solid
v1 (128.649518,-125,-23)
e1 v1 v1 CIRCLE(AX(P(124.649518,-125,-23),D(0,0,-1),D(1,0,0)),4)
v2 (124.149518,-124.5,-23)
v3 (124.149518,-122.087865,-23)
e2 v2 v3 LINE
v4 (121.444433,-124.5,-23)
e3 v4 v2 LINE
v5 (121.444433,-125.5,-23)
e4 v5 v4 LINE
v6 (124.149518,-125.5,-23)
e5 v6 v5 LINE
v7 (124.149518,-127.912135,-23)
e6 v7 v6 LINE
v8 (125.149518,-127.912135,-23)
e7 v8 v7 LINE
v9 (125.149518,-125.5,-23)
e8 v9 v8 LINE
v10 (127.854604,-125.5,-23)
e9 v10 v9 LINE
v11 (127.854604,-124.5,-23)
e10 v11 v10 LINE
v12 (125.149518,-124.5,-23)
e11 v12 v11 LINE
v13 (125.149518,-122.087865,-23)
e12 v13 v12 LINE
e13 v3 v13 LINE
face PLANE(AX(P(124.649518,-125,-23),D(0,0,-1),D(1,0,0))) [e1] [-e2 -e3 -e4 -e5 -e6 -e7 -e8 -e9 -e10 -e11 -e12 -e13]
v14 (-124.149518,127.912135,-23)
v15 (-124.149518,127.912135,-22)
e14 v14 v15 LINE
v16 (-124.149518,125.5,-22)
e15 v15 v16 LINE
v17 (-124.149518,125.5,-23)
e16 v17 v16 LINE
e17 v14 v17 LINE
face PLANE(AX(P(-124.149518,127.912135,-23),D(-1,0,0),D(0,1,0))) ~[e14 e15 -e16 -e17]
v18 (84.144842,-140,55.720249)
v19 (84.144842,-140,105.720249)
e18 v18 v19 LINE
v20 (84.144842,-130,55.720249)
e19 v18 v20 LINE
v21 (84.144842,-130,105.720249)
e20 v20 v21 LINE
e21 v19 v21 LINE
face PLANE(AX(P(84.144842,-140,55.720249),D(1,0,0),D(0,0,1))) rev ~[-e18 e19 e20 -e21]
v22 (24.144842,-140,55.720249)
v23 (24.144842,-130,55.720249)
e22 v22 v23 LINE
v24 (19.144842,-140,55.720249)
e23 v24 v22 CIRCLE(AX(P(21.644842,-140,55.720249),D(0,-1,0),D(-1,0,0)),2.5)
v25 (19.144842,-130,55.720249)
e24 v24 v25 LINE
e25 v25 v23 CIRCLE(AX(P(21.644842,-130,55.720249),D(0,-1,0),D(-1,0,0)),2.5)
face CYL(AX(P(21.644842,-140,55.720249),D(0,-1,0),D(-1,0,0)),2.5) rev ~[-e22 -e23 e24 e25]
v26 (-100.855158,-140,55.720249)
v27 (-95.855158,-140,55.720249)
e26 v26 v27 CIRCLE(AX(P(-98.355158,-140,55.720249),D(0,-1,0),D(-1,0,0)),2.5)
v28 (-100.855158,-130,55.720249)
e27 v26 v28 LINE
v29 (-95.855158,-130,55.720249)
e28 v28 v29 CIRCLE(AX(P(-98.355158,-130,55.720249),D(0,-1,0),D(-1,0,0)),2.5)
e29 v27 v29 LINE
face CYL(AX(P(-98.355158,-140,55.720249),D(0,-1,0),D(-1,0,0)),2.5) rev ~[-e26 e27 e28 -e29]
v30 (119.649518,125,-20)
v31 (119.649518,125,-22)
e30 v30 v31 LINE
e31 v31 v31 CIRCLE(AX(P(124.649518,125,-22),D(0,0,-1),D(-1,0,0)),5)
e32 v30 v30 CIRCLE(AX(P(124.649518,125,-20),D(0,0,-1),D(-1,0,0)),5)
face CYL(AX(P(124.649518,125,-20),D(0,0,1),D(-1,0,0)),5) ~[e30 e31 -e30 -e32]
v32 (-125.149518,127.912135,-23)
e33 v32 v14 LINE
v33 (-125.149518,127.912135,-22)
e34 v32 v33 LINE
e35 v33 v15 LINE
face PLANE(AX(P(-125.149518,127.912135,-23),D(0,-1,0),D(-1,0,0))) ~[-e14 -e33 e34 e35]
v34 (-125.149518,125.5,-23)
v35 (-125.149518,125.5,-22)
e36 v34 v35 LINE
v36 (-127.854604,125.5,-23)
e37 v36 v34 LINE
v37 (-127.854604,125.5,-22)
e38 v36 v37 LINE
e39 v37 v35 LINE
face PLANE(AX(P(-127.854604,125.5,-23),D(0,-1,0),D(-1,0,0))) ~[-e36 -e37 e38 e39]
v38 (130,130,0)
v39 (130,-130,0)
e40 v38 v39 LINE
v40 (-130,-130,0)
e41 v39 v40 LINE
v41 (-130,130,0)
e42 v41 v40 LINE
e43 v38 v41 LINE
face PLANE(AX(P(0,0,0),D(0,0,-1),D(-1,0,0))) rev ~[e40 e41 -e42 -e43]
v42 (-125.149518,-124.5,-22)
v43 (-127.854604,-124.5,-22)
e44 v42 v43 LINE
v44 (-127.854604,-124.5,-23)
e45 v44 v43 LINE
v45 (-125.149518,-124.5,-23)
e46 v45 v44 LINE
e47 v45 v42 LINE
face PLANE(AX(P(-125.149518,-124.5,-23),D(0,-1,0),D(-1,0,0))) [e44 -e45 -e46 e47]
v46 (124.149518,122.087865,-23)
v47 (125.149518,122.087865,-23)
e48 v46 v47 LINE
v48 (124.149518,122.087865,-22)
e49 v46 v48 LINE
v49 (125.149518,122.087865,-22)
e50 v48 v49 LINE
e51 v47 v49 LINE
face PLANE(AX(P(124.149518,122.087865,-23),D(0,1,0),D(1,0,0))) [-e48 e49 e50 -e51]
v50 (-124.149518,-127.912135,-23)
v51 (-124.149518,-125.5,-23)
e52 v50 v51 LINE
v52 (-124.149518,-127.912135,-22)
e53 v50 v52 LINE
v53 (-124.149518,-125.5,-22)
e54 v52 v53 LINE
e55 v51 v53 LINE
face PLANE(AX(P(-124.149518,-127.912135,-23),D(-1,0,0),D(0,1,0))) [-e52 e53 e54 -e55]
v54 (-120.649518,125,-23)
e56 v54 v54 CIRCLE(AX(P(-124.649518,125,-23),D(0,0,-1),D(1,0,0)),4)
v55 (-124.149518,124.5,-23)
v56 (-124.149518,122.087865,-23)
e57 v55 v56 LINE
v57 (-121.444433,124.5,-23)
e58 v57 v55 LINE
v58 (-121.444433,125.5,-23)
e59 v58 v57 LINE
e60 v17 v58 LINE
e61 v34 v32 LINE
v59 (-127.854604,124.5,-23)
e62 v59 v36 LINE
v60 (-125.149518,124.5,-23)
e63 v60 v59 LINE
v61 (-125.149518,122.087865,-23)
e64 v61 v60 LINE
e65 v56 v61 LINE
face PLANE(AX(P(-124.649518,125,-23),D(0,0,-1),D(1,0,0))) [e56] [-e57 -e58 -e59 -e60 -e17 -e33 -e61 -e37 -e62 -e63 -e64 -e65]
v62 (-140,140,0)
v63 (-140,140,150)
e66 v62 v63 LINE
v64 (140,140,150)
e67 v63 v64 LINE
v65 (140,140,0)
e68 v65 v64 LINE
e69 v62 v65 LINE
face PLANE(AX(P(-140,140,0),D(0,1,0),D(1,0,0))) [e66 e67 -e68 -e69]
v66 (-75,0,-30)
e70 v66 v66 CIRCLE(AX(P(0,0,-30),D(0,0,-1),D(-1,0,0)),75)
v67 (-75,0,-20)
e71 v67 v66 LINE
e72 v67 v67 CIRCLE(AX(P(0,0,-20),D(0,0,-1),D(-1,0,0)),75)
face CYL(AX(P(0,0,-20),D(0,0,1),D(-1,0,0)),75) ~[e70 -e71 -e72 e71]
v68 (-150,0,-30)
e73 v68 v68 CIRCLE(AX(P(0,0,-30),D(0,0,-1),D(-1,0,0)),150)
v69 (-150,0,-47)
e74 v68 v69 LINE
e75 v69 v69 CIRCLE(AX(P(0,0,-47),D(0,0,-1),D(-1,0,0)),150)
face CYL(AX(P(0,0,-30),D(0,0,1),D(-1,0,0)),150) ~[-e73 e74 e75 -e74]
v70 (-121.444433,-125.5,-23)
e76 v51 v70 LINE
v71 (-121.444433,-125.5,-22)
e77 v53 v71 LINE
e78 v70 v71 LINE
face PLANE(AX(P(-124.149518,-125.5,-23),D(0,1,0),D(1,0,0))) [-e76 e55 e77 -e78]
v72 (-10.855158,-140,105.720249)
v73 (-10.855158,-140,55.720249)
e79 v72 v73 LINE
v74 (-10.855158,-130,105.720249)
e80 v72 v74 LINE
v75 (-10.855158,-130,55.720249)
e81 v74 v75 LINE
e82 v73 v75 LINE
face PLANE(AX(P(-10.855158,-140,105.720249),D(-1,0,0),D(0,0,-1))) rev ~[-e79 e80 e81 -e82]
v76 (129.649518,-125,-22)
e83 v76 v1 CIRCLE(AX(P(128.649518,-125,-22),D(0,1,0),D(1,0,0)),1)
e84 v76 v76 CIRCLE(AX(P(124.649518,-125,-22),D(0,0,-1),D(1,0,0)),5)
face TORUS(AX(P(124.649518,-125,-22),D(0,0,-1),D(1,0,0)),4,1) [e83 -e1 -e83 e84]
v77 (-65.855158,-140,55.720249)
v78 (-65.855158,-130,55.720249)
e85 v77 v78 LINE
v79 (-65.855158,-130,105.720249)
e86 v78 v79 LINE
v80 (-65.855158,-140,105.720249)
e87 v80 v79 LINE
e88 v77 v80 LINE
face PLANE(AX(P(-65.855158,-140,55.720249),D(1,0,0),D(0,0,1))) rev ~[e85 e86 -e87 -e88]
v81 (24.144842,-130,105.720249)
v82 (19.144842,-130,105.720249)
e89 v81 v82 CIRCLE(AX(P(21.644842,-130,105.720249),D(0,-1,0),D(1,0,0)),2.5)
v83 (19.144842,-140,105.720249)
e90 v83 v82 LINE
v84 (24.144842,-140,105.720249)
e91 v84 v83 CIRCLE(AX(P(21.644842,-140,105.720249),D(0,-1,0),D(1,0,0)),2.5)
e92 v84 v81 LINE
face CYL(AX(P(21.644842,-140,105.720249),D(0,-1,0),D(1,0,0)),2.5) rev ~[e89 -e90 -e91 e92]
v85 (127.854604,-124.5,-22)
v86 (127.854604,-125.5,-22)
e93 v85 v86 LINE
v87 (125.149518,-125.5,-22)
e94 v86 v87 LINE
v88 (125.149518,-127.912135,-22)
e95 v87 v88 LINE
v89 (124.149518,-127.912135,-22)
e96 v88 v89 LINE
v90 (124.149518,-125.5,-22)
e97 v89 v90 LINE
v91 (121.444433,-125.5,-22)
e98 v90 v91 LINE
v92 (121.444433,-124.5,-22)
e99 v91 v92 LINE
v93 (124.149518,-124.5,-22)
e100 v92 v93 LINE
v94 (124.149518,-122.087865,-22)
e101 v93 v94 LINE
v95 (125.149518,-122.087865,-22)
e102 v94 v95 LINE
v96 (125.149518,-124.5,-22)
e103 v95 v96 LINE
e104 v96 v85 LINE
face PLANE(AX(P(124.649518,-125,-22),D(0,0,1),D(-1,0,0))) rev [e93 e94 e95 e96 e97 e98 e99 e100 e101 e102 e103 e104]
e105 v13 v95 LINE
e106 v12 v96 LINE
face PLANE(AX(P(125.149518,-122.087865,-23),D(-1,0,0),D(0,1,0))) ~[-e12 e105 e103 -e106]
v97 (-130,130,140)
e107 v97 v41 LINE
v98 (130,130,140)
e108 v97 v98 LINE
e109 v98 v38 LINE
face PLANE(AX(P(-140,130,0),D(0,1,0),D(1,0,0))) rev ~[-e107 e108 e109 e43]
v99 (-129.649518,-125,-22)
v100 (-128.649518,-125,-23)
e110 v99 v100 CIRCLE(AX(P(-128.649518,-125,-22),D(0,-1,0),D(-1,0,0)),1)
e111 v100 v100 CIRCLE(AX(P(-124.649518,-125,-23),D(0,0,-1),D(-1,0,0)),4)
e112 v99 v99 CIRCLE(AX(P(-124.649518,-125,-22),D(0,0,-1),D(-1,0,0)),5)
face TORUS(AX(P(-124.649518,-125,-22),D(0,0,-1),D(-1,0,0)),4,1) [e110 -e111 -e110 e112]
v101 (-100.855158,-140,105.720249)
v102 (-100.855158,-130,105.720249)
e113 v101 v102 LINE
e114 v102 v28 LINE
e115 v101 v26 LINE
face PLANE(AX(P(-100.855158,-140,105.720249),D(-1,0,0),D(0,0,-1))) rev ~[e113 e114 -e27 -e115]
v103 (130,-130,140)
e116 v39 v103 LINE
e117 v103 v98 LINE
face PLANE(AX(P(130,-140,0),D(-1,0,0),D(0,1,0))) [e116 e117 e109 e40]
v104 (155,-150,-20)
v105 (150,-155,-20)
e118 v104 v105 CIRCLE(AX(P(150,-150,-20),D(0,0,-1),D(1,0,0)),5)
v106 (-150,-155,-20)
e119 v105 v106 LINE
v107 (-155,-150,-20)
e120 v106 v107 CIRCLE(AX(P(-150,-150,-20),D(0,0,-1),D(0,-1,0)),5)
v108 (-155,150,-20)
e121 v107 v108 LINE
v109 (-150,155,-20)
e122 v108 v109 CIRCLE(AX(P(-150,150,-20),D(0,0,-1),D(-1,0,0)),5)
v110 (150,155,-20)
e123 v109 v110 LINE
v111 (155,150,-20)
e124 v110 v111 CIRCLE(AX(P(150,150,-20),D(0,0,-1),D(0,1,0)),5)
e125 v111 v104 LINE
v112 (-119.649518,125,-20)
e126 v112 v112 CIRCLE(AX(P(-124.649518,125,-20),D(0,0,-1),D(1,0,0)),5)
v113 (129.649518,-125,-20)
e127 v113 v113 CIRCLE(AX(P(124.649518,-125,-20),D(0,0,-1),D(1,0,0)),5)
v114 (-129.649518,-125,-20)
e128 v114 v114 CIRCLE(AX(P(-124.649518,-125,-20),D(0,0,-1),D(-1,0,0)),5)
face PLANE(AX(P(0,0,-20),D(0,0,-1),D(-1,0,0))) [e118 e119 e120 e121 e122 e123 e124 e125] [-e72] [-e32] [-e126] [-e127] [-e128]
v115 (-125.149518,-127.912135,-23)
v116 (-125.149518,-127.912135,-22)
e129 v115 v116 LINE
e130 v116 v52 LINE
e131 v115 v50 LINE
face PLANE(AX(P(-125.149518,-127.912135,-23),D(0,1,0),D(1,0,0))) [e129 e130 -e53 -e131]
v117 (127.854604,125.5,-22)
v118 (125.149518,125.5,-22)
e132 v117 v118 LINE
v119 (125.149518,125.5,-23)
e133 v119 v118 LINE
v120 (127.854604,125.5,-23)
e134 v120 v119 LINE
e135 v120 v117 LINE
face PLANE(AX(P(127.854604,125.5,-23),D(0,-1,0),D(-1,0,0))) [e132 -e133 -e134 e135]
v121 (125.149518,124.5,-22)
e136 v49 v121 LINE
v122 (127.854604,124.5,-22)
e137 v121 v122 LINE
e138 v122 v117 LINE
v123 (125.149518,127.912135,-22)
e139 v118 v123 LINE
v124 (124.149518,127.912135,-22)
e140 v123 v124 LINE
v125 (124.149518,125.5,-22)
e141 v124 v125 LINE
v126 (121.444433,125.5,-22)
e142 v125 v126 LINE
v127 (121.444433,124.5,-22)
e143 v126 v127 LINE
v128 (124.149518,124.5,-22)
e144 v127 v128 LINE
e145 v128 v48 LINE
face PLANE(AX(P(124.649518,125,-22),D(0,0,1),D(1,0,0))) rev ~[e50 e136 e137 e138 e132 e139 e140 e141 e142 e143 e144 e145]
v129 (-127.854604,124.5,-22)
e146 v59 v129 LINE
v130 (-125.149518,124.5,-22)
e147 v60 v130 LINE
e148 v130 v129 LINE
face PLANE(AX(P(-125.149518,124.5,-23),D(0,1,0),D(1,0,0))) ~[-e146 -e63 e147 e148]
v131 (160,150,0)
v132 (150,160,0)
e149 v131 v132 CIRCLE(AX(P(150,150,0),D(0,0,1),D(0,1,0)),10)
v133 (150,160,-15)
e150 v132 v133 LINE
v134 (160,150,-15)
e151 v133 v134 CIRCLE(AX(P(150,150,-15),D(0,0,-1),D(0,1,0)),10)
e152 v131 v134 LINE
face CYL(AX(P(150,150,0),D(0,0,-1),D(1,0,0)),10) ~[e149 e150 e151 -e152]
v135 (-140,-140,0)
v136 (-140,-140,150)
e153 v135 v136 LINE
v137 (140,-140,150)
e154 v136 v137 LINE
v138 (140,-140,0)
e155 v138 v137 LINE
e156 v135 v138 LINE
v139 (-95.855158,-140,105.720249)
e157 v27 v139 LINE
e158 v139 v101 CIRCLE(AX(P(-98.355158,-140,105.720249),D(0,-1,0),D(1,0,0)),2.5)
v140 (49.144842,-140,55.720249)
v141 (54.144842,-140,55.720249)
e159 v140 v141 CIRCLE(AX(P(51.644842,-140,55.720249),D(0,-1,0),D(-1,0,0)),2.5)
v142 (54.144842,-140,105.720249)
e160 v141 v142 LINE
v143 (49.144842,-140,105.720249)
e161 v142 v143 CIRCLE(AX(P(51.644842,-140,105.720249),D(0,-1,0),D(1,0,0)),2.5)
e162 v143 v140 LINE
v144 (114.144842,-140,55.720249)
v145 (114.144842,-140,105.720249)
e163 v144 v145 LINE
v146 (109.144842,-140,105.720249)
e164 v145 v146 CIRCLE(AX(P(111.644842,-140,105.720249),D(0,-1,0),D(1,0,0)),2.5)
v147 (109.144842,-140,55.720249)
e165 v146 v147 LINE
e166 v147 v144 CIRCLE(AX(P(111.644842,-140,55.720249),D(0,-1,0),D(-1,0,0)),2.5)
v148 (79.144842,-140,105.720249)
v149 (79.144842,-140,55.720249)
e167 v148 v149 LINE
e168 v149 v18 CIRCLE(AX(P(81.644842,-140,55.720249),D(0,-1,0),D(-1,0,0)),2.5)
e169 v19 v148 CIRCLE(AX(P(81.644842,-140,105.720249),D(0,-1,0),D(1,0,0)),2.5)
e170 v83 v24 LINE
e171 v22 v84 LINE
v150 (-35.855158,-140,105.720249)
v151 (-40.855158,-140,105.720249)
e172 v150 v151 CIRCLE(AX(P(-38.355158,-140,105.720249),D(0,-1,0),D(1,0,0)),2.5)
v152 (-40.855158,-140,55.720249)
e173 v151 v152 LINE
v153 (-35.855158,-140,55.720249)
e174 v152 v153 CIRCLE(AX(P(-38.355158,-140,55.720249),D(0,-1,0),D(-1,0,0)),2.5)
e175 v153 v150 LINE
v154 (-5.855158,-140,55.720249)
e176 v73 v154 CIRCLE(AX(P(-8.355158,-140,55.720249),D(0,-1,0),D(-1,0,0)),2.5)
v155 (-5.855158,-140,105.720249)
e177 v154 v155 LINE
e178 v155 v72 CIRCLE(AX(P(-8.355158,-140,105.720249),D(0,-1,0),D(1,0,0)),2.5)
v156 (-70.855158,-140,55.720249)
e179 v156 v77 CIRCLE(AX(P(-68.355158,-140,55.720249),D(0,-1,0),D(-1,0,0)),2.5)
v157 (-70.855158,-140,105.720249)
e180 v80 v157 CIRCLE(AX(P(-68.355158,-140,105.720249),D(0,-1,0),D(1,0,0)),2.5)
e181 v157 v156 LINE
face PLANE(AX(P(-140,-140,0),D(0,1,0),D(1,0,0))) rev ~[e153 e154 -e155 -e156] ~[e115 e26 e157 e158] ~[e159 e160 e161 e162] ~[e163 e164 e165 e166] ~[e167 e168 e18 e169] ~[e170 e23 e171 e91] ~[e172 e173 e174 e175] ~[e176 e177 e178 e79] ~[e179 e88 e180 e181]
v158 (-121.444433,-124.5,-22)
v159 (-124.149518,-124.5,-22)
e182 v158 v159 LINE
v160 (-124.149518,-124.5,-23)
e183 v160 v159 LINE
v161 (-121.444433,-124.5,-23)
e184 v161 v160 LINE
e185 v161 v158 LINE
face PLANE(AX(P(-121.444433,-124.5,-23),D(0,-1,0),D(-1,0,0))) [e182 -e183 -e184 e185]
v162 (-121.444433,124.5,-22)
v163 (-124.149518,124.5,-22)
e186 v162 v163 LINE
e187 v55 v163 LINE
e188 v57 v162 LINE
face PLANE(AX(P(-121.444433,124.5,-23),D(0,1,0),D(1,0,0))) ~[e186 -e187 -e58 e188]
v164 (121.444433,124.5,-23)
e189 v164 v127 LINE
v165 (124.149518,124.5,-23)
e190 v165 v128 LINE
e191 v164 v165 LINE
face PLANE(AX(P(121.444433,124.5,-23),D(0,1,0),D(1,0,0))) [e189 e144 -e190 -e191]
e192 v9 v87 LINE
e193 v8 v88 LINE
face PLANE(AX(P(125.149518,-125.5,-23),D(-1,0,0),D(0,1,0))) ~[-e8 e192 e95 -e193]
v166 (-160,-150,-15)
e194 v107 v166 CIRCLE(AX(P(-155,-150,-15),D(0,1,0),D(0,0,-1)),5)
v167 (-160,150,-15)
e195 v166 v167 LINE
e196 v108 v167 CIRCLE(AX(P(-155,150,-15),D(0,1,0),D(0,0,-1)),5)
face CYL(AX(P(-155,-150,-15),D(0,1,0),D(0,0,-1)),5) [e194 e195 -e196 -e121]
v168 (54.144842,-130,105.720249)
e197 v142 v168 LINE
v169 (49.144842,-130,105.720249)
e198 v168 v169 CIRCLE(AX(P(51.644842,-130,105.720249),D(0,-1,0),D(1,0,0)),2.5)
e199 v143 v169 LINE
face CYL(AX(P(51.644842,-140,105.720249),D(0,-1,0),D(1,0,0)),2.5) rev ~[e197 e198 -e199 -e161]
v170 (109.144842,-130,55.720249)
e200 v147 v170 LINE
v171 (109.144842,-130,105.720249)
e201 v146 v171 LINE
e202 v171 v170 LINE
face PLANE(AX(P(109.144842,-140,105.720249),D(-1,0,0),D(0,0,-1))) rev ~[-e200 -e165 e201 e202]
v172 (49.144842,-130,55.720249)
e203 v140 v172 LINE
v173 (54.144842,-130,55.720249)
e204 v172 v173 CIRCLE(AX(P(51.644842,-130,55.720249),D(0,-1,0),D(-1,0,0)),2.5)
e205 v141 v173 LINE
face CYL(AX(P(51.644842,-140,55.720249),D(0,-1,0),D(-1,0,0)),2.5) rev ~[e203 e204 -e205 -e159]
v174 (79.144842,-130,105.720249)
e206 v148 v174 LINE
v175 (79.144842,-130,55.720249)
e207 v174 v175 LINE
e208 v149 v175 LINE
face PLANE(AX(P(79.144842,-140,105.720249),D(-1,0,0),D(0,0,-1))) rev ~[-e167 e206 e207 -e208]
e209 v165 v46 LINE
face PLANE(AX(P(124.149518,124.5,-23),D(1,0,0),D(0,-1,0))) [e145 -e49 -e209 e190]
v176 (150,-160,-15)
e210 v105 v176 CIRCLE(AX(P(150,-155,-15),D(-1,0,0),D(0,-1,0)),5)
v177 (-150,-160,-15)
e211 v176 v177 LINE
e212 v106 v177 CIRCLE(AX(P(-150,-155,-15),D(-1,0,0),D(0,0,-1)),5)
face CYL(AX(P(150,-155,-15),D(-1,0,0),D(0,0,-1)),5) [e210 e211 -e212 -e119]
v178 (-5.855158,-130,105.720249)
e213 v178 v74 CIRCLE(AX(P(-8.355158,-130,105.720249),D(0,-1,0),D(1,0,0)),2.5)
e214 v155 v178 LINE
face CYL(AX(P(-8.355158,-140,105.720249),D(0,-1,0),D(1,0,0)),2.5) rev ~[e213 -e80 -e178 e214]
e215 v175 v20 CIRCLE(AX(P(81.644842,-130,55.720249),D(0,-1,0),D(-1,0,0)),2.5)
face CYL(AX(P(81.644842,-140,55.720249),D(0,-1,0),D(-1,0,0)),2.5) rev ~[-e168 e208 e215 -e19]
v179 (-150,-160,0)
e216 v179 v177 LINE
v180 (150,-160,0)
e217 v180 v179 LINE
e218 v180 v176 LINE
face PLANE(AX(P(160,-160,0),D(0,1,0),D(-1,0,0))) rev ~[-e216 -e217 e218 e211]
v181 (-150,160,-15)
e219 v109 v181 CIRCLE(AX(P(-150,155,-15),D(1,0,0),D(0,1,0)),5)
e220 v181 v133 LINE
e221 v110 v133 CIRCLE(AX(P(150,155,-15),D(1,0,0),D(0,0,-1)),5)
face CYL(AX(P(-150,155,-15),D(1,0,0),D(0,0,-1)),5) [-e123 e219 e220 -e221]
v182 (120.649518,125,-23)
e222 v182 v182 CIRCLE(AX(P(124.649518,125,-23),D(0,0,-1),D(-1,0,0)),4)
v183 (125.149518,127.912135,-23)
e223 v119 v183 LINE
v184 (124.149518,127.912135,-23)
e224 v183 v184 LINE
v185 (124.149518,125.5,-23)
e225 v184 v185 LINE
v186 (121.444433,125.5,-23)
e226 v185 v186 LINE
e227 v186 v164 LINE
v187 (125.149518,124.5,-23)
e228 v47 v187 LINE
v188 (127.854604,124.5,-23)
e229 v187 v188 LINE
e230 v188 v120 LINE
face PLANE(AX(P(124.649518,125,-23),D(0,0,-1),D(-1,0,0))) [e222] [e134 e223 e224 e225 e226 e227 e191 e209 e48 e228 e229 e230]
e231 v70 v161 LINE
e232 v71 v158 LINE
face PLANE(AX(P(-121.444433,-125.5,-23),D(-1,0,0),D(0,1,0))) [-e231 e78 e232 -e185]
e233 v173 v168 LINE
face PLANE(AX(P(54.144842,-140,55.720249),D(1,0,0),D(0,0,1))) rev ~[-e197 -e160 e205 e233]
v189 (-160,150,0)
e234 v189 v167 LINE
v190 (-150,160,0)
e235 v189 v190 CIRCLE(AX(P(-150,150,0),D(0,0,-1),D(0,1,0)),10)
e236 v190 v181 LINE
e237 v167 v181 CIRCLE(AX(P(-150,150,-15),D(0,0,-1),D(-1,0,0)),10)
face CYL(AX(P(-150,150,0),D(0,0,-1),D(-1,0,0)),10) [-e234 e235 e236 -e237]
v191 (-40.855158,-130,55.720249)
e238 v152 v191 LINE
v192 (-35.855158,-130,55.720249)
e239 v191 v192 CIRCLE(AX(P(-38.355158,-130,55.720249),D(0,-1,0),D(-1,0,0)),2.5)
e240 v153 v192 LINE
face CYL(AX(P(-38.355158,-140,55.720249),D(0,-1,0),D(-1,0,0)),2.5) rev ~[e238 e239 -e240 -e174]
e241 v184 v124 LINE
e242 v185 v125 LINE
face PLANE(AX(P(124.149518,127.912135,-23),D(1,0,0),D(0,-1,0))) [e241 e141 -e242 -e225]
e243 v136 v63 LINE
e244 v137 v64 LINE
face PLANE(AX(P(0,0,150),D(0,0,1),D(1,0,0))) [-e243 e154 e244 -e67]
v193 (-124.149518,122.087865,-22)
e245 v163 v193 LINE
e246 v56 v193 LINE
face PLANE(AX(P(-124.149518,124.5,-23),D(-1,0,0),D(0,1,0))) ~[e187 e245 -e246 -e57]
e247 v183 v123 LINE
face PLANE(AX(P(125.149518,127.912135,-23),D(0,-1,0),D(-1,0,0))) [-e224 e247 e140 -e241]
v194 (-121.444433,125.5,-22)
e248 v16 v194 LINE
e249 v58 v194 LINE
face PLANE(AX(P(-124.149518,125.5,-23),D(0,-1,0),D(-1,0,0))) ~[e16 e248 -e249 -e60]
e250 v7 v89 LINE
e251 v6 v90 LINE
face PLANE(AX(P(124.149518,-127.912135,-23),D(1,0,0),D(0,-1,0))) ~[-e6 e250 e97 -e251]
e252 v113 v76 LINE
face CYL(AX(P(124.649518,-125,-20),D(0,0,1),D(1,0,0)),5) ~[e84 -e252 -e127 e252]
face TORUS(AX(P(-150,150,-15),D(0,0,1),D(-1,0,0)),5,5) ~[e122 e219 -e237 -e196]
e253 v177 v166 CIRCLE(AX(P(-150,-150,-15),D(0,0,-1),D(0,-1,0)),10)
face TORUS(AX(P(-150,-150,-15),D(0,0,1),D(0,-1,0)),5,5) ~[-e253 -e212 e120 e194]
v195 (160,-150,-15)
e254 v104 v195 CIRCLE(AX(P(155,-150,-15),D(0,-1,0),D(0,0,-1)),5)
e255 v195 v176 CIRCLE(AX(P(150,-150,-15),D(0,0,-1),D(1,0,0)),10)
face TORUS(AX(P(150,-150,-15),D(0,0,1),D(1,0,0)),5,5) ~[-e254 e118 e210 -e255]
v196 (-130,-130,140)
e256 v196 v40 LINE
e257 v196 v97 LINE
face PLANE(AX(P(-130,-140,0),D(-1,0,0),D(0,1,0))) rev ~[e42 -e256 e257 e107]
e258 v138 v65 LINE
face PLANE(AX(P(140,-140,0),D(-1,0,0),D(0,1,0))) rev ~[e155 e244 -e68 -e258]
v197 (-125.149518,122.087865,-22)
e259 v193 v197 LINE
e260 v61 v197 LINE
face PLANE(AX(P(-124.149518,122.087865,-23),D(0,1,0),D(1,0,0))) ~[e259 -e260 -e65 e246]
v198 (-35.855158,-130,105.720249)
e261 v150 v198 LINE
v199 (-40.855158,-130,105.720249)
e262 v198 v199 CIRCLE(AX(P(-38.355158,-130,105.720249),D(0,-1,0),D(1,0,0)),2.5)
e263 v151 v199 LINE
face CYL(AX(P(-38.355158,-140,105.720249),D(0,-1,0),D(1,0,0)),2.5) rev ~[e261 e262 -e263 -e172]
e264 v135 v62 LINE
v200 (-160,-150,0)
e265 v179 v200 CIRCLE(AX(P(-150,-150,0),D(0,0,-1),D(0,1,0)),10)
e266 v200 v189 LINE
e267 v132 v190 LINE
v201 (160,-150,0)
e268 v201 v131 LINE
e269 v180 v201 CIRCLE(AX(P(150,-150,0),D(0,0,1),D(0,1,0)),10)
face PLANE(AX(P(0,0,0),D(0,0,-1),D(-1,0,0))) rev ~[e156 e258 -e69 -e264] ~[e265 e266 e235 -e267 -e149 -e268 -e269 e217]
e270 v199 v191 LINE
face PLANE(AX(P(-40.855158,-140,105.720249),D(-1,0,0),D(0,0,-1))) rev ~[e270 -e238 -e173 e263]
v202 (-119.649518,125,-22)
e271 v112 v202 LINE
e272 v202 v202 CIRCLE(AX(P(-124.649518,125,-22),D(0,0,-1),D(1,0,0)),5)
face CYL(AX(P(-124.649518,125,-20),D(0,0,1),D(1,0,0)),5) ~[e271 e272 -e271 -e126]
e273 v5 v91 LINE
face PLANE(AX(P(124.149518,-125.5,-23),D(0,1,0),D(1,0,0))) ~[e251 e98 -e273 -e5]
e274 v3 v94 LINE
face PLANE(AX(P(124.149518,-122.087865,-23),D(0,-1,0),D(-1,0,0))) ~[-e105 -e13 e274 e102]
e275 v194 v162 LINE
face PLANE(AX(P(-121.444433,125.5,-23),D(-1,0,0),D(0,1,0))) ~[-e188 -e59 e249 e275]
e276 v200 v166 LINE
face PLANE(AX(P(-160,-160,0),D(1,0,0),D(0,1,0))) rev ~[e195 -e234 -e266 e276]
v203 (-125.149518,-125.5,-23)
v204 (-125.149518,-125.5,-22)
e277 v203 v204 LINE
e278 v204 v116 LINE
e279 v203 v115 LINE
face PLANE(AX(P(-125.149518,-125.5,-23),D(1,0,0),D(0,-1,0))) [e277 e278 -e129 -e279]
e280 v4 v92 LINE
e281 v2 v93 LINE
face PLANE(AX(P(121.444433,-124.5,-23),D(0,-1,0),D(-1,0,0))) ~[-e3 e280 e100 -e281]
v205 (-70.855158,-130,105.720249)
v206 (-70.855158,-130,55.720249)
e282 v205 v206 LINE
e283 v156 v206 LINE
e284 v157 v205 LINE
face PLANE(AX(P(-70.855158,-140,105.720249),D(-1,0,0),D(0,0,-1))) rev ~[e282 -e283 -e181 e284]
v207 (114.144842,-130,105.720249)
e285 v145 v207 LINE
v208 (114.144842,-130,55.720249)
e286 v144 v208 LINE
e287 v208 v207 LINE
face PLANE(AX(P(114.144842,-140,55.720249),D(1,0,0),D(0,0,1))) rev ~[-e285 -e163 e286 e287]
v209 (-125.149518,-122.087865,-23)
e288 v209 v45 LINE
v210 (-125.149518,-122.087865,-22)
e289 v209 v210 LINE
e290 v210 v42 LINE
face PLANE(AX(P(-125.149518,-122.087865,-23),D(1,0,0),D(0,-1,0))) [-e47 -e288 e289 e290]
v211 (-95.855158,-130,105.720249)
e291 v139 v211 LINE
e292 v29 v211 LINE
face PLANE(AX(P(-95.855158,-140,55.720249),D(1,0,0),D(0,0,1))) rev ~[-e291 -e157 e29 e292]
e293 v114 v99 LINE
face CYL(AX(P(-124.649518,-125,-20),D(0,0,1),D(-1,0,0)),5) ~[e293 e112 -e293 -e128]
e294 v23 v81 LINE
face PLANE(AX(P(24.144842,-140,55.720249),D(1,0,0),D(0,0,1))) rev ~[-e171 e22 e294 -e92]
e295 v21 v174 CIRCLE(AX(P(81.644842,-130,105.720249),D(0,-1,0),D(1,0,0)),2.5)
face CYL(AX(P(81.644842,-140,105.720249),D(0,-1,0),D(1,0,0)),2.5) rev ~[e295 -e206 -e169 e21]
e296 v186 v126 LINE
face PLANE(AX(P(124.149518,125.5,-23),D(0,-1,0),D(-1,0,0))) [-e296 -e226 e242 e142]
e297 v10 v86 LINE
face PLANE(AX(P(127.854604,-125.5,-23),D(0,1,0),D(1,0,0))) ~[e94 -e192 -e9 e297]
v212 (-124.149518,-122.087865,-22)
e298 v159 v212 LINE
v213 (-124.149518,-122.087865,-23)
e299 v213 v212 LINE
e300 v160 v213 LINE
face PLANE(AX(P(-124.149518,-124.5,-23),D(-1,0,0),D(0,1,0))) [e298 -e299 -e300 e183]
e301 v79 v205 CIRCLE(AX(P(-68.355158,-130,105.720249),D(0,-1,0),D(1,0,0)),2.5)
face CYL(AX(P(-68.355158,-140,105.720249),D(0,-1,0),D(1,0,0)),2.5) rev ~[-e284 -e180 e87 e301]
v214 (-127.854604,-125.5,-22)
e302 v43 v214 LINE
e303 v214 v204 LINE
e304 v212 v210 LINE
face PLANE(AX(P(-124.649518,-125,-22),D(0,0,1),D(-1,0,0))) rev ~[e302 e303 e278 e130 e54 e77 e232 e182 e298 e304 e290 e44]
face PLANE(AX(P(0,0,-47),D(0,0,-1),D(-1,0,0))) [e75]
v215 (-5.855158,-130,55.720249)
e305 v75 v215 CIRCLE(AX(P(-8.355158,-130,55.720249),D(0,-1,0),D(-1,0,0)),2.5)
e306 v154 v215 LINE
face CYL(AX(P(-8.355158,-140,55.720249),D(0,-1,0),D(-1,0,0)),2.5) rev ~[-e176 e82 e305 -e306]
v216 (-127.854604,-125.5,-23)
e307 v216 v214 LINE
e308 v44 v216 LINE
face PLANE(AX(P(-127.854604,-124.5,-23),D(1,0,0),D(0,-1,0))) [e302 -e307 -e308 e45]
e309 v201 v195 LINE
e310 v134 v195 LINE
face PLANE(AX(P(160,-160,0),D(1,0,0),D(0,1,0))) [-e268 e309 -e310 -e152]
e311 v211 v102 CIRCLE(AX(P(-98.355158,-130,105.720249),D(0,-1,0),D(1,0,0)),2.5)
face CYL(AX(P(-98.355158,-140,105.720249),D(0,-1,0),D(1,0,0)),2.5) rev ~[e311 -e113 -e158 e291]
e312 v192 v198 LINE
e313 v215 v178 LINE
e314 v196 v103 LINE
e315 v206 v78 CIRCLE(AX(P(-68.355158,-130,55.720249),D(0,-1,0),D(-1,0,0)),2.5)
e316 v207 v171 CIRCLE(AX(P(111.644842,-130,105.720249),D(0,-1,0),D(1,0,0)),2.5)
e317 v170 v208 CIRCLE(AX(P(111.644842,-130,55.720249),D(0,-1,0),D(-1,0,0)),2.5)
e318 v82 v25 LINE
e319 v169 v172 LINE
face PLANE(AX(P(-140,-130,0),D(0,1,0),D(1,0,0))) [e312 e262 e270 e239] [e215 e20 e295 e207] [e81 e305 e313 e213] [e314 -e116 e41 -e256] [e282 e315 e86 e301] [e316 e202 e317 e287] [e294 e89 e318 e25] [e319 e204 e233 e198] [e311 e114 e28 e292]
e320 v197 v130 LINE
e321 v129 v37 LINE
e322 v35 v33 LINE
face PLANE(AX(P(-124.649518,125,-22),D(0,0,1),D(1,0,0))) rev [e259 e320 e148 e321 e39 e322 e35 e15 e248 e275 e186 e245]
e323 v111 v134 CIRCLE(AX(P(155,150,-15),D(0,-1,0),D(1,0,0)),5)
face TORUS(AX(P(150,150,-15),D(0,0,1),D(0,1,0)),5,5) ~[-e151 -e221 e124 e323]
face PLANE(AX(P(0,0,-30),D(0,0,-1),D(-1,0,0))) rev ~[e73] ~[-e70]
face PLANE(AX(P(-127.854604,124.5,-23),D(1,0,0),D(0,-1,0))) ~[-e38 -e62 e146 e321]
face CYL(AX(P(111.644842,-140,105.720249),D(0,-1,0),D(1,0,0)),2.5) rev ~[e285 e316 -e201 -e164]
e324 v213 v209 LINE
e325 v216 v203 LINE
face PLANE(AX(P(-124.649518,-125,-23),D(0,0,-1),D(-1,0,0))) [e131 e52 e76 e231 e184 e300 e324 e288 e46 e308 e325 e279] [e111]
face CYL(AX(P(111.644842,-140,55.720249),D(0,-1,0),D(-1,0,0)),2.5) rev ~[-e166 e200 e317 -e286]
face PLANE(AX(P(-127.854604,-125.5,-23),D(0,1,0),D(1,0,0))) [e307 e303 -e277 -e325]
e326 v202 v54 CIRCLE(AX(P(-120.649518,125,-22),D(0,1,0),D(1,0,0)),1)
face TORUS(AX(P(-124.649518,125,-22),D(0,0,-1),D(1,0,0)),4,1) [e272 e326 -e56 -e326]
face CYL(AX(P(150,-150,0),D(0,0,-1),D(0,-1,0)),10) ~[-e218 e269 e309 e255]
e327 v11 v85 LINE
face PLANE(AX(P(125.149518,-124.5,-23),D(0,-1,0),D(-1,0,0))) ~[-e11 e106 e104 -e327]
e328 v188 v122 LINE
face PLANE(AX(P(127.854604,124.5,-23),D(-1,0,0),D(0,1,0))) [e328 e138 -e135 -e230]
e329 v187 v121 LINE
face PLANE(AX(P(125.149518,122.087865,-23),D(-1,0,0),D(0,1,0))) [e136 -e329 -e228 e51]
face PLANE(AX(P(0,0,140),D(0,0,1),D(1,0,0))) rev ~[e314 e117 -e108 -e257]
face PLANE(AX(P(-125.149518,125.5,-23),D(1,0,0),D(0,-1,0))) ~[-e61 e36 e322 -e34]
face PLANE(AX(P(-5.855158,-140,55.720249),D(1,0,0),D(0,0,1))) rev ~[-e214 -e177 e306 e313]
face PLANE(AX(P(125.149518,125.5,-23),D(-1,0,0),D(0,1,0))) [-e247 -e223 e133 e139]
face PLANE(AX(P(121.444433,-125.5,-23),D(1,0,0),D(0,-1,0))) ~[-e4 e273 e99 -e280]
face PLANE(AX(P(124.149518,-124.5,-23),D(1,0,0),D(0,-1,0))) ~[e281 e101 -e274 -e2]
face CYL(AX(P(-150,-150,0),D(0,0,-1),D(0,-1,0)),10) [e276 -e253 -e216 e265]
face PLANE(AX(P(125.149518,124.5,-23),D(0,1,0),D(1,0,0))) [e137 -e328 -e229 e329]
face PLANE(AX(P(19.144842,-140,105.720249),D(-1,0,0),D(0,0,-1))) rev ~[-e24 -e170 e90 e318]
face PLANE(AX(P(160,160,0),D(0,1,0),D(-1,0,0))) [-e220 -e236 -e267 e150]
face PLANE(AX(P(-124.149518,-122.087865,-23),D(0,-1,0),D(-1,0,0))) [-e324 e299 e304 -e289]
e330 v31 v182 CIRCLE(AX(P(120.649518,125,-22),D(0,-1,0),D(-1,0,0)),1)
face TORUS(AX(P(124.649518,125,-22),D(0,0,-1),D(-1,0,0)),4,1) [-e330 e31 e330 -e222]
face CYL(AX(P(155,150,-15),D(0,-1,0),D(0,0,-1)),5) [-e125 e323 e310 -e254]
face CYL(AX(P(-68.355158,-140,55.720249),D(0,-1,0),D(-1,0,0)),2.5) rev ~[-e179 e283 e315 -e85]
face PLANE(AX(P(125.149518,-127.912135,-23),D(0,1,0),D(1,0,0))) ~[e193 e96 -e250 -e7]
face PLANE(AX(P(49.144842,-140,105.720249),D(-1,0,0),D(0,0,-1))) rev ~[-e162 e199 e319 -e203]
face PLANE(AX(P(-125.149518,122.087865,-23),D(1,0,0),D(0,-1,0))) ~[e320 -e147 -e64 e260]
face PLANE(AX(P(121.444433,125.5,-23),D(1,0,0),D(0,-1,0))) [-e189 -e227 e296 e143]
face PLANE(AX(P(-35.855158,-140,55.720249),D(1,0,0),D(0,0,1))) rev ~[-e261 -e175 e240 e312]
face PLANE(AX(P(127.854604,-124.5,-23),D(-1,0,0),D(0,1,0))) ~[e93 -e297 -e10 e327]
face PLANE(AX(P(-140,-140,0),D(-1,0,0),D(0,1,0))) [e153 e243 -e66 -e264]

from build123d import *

# Parameters (mm, degrees)
SKETCH_1_W            = 280
SKETCH_1_H            = 280
EXTRUDE_1_DEPTH       = 150
SHELL_2_T             = -10
CUT_EXTRUDE_2_DEPTH   = 10
SKETCH_3_W            = 320
SKETCH_3_H            = 320
EXTRUDE_2_DEPTH       = 20
FILLET_1_R            = 10
FILLET_2_R            = 10
FILLET_3_R            = 5
SKETCH_4_R            = 75
EXTRUDE_3_DEPTH       = 10
SKETCH_5_R            = 150
EXTRUDE_4_DEPTH       = 17
SKETCH_6_R            = 5
EXTRUDE_5_DEPTH       = 3
FILLET_6_R            = 1
FILLET_7_R            = 1
FILLET_8_R            = 1
CUT_EXTRUDE_3_DEPTH   = 1
MIRROR_2_COPY_1_DEPTH = 1


with BuildPart() as part:
    # 草图1 → 凸台-拉伸1 (new body)
    with BuildSketch(Plane.XY):
        Rectangle(SKETCH_1_W, SKETCH_1_H)
    extrude(amount=EXTRUDE_1_DEPTH)

    # 抽壳2
    shell_2_openings = [part.faces().sort_by_distance(p)[0] for p in [
        (0, 0, 0),
    ]]
    offset(amount=SHELL_2_T, openings=shell_2_openings, kind=Kind.INTERSECTION)

    # 草图2 → 切除-拉伸2 (cut)
    with BuildSketch(Plane.XZ.offset(140)):
        with BuildLine():
            Line((-100.855157914, 105.72024925), (-100.855157914, 55.72024925))
            ThreePointArc((-100.855157914, 55.72024925), (-98.355157914, 53.22024925), (-95.855157914, 55.72024925))
            Line((-95.855157914, 55.72024925), (-95.855157914, 105.72024925))
            ThreePointArc((-95.855157914, 105.72024925), (-98.355157914, 108.22024925), (-100.855157914, 105.72024925))
        make_face()
        with BuildLine():
            Line((-70.855157914, 105.72024925), (-70.855157914, 55.72024925))
            ThreePointArc((-70.855157914, 55.72024925), (-68.355157914, 53.22024925), (-65.855157914, 55.72024925))
            Line((-65.855157914, 55.72024925), (-65.855157914, 105.72024925))
            ThreePointArc((-65.855157914, 105.72024925), (-68.355157914, 108.22024925), (-70.855157914, 105.72024925))
        make_face()
        with BuildLine():
            Line((-40.855157914, 105.72024925), (-40.855157914, 55.72024925))
            ThreePointArc((-40.855157914, 55.72024925), (-38.355157914, 53.22024925), (-35.855157914, 55.72024925))
            Line((-35.855157914, 55.72024925), (-35.855157914, 105.72024925))
            ThreePointArc((-35.855157914, 105.72024925), (-38.355157914, 108.22024925), (-40.855157914, 105.72024925))
        make_face()
        with BuildLine():
            Line((-10.855157914, 105.72024925), (-10.855157914, 55.72024925))
            ThreePointArc((-10.855157914, 55.72024925), (-8.355157914, 53.22024925), (-5.855157914, 55.72024925))
            Line((-5.855157914, 55.72024925), (-5.855157914, 105.72024925))
            ThreePointArc((-5.855157914, 105.72024925), (-8.355157914, 108.22024925), (-10.855157914, 105.72024925))
        make_face()
        with BuildLine():
            Line((19.144842086, 105.72024925), (19.144842086, 55.72024925))
            ThreePointArc((19.144842086, 55.72024925), (21.644842086, 53.22024925), (24.144842086, 55.72024925))
            Line((24.144842086, 55.72024925), (24.144842086, 105.72024925))
            ThreePointArc((24.144842086, 105.72024925), (21.644842086, 108.22024925), (19.144842086, 105.72024925))
        make_face()
        with BuildLine():
            Line((49.144842086, 105.72024925), (49.144842086, 55.72024925))
            ThreePointArc((49.144842086, 55.72024925), (51.644842086, 53.22024925), (54.144842086, 55.72024925))
            Line((54.144842086, 55.72024925), (54.144842086, 105.72024925))
            ThreePointArc((54.144842086, 105.72024925), (51.644842086, 108.22024925), (49.144842086, 105.72024925))
        make_face()
        with BuildLine():
            Line((79.144842086, 105.72024925), (79.144842086, 55.72024925))
            ThreePointArc((79.144842086, 55.72024925), (81.644842086, 53.22024925), (84.144842086, 55.72024925))
            Line((84.144842086, 55.72024925), (84.144842086, 105.72024925))
            ThreePointArc((84.144842086, 105.72024925), (81.644842086, 108.22024925), (79.144842086, 105.72024925))
        make_face()
        with BuildLine():
            Line((109.144842086, 105.72024925), (109.144842086, 55.72024925))
            ThreePointArc((109.144842086, 55.72024925), (111.644842086, 53.22024925), (114.144842086, 55.72024925))
            Line((114.144842086, 55.72024925), (114.144842086, 105.72024925))
            ThreePointArc((114.144842086, 105.72024925), (111.644842086, 108.22024925), (109.144842086, 105.72024925))
        make_face()
    extrude(amount=-CUT_EXTRUDE_2_DEPTH, mode=Mode.SUBTRACT)

    # 草图3 → 凸台-拉伸2 (add)
    with BuildSketch(Plane(origin=(0, 0, 0), x_dir=(-1, 0, 0), z_dir=(0, 0, -1))):
        Rectangle(SKETCH_3_W, SKETCH_3_H)
    extrude(amount=EXTRUDE_2_DEPTH)

    # 圆角1
    fillet_1_edges = [part.edges().sort_by_distance(p)[0] for p in [
        (-160, -160, -10),
    ]]
    fillet(fillet_1_edges, radius=FILLET_1_R)

    # 圆角2
    fillet_2_edges = [part.edges().sort_by_distance(p)[0] for p in [
        (-160, 160, -10),
        (160, 160, -10),
        (160, -160, -10),
    ]]
    fillet(fillet_2_edges, radius=FILLET_2_R)

    # 圆角3
    fillet_3_edges = [part.edges().sort_by_distance(p)[0] for p in [
        (-160, 0, -20),
        (-157.071067812, -157.071067812, -20),
        (0, -160, -20),
        (160, 0, -20),
        (0, 160, -20),
        (-157.071067812, 157.071067812, -20),
        (157.071067812, 157.071067812, -20),
        (157.071067812, -157.071067812, -20),
    ]]
    fillet(fillet_3_edges, radius=FILLET_3_R)

    # 草图4 → 凸台-拉伸3 (add)
    with BuildSketch(Plane(origin=(0, 0, -20), x_dir=(-1, 0, 0), z_dir=(0, 0, -1))):
        Circle(SKETCH_4_R)
    extrude(amount=EXTRUDE_3_DEPTH)

    # 草图5 → 凸台-拉伸4 (add)
    with BuildSketch(Plane(origin=(0, 0, -30), x_dir=(-1, 0, 0), z_dir=(0, 0, -1))):
        Circle(SKETCH_5_R)
    extrude(amount=EXTRUDE_4_DEPTH)

    # 草图6 → 凸台-拉伸5 (add)
    with BuildSketch(Plane(origin=(0, 0, -20), x_dir=(-1, 0, 0), z_dir=(0, 0, -1))):
        with Locations((-124.64951843, 125)):
            Circle(SKETCH_6_R)
        with Locations(Location((124.64951843, 125, 0), (0, 0, 180))):
            Circle(SKETCH_6_R)
        with Locations((124.64951843, -125)):
            Circle(SKETCH_6_R)
        with Locations(Location((-124.64951843, -125, 0), (0, 0, 180))):
            Circle(SKETCH_6_R)
    extrude(amount=EXTRUDE_5_DEPTH)

    # 圆角6
    fillet_6_edges = [part.edges().sort_by_distance(p)[0] for p in [
        (119.64951843, -125, -23),
    ]]
    fillet(fillet_6_edges, radius=FILLET_6_R)

    # 圆角7
    fillet_7_edges = [part.edges().sort_by_distance(p)[0] for p in [
        (-119.64951843, -125, -23),
    ]]
    fillet(fillet_7_edges, radius=FILLET_7_R)

    # 圆角8
    fillet_8_edges = [part.edges().sort_by_distance(p)[0] for p in [
        (-129.64951843, 125, -23),
        (129.64951843, 125, -23),
    ]]
    fillet(fillet_8_edges, radius=FILLET_8_R)

    # 草图7 → 切除-拉伸3 (cut)
    with BuildSketch(Plane(origin=(0, 0, -23), x_dir=(-1, 0, 0), z_dir=(0, 0, -1))):
        Polygon((-125.14951843, 127.912135043), (-124.14951843, 127.912135043), (-124.14951843, 125.5), (-121.444432989, 125.5), (-121.444432989, 124.5), (-124.14951843, 124.5), (-124.14951843, 122.087864957), (-125.14951843, 122.087864957), (-125.14951843, 124.5), (-127.854603871, 124.5), (-127.854603871, 125.5), (-125.14951843, 125.5), align=None)
    cut_extrude_3 = extrude(amount=-CUT_EXTRUDE_3_DEPTH, mode=Mode.SUBTRACT)

    # 镜向1: 切除-拉伸3 across plane
    add(cut_extrude_3.mirror(Plane(origin=(0, 0, 0), x_dir=(0, 0, 1), z_dir=(0, -1, 0))), mode=Mode.SUBTRACT)

    # 镜向2: 切除-拉伸3 across plane
    add(cut_extrude_3.mirror(Plane.ZY), mode=Mode.SUBTRACT)

    # 镜向2 copy 1 sketch → 镜向2 copy 1 (cut)
    with BuildSketch(Plane(origin=(0, 0, -23), x_dir=(1, 0, 0), z_dir=(0, 0, -1))):
        Polygon((-125.14951843, 127.912135043), (-124.14951843, 127.912135043), (-124.14951843, 125.5), (-121.444432989, 125.5), (-121.444432989, 124.5), (-124.14951843, 124.5), (-124.14951843, 122.087864957), (-125.14951843, 122.087864957), (-125.14951843, 124.5), (-127.854603871, 124.5), (-127.854603871, 125.5), (-125.14951843, 125.5), align=None)
    extrude(amount=-MIRROR_2_COPY_1_DEPTH, mode=Mode.SUBTRACT)


solid = part.part
